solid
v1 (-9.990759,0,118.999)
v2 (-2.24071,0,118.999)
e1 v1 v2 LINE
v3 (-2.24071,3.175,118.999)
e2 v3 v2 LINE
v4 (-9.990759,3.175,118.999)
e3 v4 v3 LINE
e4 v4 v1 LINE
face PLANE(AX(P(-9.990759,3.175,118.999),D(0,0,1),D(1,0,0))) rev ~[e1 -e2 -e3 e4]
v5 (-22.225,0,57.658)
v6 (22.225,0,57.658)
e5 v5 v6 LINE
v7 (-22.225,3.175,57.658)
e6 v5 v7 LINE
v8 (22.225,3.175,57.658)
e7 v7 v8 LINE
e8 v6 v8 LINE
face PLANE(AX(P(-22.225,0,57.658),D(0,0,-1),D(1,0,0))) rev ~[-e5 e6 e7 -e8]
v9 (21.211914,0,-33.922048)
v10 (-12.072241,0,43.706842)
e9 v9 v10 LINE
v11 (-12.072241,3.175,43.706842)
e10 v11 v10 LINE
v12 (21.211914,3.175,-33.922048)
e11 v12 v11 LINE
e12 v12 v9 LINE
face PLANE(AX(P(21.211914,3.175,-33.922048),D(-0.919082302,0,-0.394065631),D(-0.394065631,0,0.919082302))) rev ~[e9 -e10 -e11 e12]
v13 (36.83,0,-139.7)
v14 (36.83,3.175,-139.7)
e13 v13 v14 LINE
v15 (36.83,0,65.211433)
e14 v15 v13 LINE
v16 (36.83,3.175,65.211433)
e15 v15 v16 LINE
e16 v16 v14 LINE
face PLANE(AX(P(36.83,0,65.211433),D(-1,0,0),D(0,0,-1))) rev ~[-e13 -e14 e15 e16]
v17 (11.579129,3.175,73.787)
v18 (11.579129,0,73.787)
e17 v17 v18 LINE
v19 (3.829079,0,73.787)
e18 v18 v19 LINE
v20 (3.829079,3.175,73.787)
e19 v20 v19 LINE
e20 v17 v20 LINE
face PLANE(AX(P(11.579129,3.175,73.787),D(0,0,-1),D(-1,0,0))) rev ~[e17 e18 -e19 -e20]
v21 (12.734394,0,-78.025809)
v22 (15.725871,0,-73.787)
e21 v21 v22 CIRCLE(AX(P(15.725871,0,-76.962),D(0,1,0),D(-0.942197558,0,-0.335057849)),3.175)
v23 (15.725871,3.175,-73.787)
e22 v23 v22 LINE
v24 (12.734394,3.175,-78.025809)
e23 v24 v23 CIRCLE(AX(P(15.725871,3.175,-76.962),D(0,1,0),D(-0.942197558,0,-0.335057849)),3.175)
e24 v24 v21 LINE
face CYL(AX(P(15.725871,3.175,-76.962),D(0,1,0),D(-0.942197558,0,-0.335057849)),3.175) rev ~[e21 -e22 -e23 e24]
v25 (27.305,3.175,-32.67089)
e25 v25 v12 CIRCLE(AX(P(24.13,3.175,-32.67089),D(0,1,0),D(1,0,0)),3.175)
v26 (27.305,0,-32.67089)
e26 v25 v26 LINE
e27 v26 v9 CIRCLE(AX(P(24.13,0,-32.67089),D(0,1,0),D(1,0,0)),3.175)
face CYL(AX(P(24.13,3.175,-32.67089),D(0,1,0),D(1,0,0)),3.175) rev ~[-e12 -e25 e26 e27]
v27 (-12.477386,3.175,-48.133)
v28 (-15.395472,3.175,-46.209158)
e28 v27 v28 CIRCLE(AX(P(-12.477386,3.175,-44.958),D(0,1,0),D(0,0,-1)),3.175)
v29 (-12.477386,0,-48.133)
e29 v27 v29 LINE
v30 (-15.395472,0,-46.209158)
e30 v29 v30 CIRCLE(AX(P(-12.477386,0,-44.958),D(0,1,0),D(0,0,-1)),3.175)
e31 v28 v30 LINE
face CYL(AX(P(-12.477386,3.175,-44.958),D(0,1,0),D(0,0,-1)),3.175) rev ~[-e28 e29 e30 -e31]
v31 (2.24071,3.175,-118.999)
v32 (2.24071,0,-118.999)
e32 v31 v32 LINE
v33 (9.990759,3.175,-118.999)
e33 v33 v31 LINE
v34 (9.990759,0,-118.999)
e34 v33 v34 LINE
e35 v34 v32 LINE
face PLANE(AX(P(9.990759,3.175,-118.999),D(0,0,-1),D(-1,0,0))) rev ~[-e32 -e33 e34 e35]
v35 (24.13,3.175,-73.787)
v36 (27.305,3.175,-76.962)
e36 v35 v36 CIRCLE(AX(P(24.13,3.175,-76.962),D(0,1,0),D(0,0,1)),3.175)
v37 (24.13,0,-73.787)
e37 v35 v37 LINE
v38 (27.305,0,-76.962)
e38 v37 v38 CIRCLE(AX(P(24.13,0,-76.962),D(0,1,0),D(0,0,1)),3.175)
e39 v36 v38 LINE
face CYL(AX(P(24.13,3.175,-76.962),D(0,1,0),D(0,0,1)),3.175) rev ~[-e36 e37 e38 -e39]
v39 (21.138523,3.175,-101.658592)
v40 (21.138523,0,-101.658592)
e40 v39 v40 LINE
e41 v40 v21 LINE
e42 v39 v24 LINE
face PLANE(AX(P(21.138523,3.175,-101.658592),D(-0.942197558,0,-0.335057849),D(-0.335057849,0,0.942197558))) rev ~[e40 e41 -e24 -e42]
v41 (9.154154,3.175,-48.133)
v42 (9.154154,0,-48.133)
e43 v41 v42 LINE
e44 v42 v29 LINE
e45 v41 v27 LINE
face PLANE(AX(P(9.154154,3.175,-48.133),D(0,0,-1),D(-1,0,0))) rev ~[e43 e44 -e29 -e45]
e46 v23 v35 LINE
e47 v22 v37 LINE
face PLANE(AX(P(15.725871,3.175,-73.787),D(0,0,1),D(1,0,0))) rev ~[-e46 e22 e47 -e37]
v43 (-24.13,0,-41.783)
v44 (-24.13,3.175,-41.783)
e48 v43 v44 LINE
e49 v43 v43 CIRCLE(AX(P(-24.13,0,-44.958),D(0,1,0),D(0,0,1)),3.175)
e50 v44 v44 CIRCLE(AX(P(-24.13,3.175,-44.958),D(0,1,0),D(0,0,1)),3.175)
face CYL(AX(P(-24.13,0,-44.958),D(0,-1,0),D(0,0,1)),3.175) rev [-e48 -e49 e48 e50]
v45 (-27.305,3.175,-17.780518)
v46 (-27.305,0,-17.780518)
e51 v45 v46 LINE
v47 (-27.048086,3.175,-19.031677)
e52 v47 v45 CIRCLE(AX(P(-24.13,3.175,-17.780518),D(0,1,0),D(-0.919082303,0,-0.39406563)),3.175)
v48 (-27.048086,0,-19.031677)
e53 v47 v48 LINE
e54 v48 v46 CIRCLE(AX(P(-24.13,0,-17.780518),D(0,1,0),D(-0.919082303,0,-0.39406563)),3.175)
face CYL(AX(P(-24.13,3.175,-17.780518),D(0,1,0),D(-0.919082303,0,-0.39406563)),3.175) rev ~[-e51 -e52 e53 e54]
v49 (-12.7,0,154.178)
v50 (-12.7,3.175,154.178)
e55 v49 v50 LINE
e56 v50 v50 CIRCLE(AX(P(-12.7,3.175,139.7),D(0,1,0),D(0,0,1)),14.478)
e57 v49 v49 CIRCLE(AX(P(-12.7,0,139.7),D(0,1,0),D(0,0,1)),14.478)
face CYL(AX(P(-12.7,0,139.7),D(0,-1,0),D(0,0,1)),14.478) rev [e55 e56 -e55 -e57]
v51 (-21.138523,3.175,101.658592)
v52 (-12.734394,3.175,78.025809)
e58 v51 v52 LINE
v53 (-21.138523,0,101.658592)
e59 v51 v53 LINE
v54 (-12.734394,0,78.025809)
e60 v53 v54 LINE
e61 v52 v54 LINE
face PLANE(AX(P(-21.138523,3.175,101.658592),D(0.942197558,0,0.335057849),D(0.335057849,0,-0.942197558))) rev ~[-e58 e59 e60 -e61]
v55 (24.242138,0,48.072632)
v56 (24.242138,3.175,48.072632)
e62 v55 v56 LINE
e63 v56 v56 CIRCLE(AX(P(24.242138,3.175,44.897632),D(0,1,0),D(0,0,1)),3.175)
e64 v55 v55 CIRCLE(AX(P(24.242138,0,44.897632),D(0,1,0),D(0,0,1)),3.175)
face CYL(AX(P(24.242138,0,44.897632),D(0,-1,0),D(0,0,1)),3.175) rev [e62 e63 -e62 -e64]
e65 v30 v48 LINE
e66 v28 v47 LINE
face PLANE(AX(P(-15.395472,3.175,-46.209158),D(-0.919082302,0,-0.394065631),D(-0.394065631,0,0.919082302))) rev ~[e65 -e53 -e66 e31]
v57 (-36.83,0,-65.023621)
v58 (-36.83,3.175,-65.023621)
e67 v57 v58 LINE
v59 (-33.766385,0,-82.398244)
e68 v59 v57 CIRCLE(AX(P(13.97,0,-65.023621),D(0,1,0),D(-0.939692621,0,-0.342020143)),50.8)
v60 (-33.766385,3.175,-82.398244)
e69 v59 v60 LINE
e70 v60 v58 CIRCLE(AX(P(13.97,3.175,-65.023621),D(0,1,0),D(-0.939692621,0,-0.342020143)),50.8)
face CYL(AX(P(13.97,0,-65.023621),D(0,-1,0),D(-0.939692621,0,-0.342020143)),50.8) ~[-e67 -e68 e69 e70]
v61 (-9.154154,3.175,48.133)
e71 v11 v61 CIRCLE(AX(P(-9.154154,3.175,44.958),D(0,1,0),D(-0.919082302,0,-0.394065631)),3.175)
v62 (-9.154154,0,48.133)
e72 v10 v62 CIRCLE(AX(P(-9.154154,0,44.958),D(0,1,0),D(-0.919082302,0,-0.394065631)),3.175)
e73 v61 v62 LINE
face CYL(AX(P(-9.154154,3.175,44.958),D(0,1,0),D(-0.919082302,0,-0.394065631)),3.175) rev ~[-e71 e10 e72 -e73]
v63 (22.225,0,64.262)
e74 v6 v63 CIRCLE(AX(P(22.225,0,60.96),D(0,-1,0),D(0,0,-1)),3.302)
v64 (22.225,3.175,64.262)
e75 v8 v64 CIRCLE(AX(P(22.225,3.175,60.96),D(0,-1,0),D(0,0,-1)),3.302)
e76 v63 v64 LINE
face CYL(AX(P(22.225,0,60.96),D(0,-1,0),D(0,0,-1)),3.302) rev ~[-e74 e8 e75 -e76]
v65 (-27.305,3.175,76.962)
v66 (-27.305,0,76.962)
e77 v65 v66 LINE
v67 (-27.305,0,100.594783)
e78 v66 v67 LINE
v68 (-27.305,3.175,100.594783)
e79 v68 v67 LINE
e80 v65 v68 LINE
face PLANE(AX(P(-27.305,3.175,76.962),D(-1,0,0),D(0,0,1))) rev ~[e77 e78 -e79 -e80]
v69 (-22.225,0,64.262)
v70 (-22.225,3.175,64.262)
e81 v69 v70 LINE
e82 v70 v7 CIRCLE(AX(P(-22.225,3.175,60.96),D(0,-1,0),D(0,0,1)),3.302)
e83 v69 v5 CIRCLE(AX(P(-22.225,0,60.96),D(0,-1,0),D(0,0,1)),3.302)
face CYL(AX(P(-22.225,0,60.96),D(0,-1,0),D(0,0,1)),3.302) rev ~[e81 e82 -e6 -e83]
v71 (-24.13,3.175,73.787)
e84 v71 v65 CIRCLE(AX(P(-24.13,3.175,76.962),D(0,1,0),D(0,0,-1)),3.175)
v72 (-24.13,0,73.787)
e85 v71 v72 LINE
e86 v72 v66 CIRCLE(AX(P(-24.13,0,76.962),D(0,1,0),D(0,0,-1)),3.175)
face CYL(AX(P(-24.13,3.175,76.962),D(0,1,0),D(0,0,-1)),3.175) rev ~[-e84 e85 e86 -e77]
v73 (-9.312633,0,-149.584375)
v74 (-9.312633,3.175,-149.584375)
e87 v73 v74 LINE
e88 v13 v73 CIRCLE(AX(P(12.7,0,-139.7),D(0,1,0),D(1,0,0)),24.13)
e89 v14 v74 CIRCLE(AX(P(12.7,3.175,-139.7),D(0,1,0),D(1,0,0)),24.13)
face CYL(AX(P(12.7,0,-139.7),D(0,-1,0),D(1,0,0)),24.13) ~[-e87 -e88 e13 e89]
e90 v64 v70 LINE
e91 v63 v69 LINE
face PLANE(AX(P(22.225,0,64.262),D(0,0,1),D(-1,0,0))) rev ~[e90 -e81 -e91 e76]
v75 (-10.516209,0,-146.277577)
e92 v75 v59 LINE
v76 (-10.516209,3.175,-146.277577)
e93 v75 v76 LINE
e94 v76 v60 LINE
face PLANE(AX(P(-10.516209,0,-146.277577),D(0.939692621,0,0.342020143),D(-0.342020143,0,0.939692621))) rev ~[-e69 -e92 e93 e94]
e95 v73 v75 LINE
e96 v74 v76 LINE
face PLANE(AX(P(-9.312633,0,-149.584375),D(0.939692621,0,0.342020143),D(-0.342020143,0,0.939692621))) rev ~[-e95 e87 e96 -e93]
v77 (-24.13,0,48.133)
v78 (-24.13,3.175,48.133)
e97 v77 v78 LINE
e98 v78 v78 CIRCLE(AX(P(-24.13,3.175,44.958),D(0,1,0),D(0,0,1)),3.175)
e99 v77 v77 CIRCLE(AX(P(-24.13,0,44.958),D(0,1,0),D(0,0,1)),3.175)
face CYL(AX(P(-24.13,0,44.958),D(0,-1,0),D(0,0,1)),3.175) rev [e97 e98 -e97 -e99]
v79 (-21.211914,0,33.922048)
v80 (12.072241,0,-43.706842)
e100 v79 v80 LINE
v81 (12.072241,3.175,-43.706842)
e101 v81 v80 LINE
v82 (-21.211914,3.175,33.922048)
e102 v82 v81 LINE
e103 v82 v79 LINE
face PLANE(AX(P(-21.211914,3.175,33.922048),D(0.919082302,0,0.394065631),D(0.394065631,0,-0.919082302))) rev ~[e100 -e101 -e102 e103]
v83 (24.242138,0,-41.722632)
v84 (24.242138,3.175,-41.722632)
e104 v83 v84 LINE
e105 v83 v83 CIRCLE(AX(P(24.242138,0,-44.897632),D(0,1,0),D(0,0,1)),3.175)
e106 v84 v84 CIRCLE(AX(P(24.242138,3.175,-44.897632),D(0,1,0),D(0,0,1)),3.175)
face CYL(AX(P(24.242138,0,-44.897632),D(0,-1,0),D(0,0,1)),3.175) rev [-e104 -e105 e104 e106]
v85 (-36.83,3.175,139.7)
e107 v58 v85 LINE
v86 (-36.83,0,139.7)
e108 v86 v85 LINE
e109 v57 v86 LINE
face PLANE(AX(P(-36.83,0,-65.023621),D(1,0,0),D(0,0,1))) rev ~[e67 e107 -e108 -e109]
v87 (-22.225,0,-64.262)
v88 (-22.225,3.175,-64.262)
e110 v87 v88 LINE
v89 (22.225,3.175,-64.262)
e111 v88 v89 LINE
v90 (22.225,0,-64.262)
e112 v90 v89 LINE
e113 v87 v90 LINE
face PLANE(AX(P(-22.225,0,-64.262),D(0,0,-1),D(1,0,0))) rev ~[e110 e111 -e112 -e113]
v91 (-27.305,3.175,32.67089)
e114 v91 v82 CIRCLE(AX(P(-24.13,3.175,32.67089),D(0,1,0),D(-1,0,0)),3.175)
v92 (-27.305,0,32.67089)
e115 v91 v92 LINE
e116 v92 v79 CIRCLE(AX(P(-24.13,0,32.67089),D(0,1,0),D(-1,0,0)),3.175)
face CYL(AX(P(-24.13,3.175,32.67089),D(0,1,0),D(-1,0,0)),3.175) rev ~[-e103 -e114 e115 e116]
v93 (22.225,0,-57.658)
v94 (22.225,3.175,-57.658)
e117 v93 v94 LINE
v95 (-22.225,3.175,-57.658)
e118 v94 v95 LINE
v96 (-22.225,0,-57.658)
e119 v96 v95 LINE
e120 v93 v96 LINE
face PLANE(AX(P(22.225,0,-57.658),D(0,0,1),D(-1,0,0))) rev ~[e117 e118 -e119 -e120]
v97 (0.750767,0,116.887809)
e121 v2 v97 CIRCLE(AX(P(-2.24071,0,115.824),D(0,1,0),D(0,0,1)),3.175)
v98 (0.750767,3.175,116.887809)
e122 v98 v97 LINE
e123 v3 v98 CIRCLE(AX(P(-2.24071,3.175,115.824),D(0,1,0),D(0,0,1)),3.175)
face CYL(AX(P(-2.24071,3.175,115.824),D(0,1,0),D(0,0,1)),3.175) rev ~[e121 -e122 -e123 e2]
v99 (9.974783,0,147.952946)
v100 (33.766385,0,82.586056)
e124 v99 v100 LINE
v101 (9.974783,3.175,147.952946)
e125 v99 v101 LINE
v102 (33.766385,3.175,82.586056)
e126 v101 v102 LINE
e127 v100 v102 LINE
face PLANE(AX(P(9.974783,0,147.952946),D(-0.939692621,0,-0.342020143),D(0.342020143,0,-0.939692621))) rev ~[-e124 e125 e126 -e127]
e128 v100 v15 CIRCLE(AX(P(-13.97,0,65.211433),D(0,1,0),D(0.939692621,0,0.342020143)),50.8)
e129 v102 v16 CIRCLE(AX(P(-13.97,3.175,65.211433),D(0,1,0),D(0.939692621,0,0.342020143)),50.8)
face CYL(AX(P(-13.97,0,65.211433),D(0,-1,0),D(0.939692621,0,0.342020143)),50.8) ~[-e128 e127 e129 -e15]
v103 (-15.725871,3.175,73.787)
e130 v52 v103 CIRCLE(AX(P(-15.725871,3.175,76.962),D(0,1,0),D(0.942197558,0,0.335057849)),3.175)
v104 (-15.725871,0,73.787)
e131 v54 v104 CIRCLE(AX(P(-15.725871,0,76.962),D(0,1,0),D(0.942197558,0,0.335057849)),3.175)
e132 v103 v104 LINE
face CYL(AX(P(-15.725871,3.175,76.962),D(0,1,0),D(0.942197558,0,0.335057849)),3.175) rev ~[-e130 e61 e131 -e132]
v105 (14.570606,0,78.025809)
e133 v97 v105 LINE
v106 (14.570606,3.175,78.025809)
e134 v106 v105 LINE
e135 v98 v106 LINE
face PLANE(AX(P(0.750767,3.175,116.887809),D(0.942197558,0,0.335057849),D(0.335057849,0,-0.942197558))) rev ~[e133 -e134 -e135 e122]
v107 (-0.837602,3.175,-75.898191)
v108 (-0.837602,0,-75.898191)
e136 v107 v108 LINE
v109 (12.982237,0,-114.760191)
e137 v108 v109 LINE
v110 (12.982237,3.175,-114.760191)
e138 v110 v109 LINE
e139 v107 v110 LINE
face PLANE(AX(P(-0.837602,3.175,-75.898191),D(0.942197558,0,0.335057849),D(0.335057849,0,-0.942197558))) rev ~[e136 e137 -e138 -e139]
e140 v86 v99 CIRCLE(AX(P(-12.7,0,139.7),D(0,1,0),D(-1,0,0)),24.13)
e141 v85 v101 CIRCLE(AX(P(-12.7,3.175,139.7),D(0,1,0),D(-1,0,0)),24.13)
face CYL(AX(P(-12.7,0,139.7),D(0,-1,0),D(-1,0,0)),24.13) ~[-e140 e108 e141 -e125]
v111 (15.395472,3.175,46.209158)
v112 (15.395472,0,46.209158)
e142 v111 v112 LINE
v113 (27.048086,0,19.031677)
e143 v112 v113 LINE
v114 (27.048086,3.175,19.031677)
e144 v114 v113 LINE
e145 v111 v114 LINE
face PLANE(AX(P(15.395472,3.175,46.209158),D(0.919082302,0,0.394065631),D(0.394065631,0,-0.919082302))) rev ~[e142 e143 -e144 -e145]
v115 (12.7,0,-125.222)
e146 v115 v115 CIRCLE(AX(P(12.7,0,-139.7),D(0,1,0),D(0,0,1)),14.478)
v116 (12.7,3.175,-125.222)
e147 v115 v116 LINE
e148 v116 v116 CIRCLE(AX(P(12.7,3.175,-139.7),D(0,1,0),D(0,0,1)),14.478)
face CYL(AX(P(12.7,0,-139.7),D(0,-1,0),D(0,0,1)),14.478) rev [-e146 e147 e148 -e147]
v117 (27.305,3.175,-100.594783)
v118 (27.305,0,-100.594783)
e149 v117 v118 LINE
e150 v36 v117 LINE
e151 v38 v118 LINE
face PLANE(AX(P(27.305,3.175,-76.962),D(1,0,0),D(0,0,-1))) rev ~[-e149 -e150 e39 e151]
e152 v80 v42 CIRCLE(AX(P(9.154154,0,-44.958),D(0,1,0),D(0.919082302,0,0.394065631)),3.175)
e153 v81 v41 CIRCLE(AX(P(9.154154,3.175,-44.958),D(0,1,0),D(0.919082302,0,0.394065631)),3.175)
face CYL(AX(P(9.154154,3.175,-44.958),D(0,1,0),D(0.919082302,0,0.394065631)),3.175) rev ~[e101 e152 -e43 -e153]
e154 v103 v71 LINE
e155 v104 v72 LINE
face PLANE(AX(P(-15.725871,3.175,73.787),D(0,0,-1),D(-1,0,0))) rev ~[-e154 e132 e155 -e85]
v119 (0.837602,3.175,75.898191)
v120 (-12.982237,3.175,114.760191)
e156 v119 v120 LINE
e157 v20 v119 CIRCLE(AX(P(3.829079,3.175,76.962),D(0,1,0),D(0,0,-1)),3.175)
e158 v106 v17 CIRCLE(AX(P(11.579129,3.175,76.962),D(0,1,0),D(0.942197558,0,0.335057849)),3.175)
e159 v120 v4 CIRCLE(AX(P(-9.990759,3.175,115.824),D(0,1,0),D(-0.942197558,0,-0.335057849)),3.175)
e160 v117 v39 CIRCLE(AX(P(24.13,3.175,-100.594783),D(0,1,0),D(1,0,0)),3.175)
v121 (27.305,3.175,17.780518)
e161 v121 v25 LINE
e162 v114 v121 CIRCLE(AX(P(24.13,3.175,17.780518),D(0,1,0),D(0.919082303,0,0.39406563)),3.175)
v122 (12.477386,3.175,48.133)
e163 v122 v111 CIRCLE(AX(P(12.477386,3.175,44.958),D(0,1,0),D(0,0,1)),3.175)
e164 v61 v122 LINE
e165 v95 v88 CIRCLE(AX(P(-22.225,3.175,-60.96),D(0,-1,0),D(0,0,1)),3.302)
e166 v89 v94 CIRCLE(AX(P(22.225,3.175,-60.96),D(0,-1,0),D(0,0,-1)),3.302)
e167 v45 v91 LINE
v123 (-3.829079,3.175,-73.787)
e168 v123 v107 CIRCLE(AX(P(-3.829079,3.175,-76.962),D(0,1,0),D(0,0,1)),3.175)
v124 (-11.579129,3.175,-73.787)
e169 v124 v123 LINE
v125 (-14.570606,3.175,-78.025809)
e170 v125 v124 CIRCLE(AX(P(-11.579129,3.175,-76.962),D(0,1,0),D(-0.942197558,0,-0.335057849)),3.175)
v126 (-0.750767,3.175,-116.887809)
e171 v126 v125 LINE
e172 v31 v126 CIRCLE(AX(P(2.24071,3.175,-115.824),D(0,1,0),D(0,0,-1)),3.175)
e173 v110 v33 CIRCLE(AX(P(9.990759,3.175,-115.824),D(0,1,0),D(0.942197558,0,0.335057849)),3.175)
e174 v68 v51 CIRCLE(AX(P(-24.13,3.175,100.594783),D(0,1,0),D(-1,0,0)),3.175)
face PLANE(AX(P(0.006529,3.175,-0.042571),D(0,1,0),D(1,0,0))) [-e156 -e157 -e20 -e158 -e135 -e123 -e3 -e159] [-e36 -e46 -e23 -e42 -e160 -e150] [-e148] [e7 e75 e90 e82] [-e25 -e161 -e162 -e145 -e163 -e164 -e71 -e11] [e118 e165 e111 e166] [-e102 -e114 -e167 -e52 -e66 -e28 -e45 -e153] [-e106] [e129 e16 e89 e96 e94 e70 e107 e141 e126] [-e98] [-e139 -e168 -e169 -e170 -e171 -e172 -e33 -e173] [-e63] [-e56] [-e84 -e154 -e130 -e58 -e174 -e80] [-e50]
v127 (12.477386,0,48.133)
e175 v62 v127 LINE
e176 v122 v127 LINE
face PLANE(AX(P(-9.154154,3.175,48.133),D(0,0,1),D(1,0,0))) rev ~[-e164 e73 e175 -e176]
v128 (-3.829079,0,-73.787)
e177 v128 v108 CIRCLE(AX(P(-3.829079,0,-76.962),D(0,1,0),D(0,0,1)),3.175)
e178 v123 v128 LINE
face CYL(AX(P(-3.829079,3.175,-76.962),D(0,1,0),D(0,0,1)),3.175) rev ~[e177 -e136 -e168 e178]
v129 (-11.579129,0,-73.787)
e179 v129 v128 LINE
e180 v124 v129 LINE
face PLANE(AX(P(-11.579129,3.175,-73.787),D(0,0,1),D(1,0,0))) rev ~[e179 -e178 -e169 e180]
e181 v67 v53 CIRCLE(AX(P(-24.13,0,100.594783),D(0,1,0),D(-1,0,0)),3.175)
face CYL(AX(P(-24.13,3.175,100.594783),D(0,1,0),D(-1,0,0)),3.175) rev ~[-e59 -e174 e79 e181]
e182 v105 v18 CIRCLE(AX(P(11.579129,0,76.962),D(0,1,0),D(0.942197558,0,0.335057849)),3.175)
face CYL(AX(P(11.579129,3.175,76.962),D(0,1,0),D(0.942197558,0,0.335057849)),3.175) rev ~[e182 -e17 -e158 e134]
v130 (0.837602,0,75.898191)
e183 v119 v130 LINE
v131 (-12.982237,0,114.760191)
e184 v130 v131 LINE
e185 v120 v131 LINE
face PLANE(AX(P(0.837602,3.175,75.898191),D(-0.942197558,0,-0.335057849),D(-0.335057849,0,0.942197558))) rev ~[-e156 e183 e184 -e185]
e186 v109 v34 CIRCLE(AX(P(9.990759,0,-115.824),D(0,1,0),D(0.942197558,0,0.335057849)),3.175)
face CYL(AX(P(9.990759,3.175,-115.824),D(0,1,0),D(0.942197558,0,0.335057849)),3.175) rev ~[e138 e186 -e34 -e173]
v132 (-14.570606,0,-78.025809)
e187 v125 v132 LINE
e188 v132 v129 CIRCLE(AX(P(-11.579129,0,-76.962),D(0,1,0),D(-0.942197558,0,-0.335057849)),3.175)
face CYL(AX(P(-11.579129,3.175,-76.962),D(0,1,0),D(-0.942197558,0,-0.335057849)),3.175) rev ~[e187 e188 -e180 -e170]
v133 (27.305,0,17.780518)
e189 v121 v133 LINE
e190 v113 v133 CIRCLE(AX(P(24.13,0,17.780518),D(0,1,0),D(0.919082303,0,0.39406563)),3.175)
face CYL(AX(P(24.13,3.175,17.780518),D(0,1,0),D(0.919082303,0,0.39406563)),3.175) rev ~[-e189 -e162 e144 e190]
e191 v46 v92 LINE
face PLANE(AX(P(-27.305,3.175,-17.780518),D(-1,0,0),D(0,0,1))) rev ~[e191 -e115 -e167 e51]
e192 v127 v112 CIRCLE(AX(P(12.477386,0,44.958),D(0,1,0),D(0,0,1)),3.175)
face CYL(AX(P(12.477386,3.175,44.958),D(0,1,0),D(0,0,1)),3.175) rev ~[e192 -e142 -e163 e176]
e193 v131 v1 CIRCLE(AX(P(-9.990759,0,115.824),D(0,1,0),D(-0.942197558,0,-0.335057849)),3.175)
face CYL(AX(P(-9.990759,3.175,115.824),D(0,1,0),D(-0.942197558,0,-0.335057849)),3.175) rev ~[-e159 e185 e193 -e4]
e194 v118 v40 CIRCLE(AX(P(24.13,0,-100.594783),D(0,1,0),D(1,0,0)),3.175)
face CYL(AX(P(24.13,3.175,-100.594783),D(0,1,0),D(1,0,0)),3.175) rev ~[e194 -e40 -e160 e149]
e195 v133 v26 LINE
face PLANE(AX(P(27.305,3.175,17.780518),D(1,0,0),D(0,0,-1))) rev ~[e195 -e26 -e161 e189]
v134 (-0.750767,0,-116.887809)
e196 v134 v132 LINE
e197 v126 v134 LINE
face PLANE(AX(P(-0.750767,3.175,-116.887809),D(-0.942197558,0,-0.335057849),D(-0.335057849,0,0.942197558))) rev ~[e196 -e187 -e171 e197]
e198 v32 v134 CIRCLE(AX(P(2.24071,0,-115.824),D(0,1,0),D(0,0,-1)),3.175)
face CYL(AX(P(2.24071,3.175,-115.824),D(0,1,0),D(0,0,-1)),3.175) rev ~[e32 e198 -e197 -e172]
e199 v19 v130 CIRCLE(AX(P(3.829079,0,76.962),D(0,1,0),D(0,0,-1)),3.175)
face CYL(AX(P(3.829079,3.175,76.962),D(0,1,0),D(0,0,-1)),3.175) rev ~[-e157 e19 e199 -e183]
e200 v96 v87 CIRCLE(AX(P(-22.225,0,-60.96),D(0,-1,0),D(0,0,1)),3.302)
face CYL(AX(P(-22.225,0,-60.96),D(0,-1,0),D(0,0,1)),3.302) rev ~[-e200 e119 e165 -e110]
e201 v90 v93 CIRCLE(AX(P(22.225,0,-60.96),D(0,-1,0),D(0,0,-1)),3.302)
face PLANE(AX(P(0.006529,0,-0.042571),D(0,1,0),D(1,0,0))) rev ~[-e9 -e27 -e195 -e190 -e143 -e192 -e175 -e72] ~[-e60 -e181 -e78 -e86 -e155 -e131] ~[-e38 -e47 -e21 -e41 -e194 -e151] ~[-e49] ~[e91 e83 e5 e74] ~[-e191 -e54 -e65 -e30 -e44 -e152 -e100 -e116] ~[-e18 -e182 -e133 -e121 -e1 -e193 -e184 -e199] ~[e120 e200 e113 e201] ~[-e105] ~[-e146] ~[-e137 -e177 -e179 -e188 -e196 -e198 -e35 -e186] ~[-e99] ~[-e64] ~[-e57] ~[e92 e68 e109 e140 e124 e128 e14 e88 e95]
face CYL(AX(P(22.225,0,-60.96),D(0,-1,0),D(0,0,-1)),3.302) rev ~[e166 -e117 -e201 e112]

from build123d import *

# Parameters (mm, degrees)
SKETCH1_R           = 14.478
SKETCH1_R_2         = 3.175
BOSS_EXTRUDE1_DEPTH = 3.175
CUT_EXTRUDE1_DEPTH  = 168.948797034


with BuildPart() as part:
    # Sketch1 → Boss-Extrude1 (new body)
    with BuildSketch(Plane(origin=(0, 0, 0), x_dir=(1, 0, 0), z_dir=(0, 1, 0))):
        with BuildLine():
            Line((-36.83, 65.023620999), (-36.83, -139.7))
            ThreePointArc((-36.83, -139.7), (-16.890130527, -163.46341108), (9.97478294, -147.952946058))
            Line((9.97478294, -147.952946058), (33.766385136, -82.586056251))
            ThreePointArc((33.766385136, -82.586056251), (36.058233853, -74.032760396), (36.83, -65.21143297))
            Line((36.83, -65.21143297), (36.83, 139.7))
            ThreePointArc((36.83, 139.7), (17.75430807, 163.29472123), (-9.312633231, 149.584375461))
            Line((-9.312633231, 149.584375461), (-10.51620944, 146.277577002))
            Line((-10.51620944, 146.277577002), (-33.766385136, 82.39824428))
            ThreePointArc((-33.766385136, 82.39824428), (-36.058233853, 73.844948425), (-36.83, 65.023620999))
        make_face()
        with Locations(Location((-12.7, -139.7, 0), (0, 0, 270))):
            Circle(SKETCH1_R, mode=Mode.SUBTRACT)
        with Locations(Location((-24.13, -44.958, 0), (0, 0, 270))):
            Circle(SKETCH1_R_2, mode=Mode.SUBTRACT)
        with BuildLine():
            Line((22.225, -64.262), (-22.225, -64.262))
            ThreePointArc((-22.225, -64.262), (-25.527, -60.96), (-22.225, -57.658))
            Line((-22.225, -57.658), (22.225, -57.658))
            ThreePointArc((22.225, -57.658), (25.527, -60.96), (22.225, -64.262))
        make_face(mode=Mode.SUBTRACT)
        with Locations(Location((24.242138156, -44.897632473, 0), (0, 0, 270))):
            Circle(SKETCH1_R_2, mode=Mode.SUBTRACT)
        with Locations(Location((-24.13, 44.958, 0), (0, 0, 270))):
            Circle(SKETCH1_R_2, mode=Mode.SUBTRACT)
        with BuildLine():
            ThreePointArc((-22.225, 57.658), (-25.527, 60.96), (-22.225, 64.262))
            Line((-22.225, 64.262), (22.225, 64.262))
            ThreePointArc((22.225, 64.262), (25.527, 60.96), (22.225, 57.658))
            Line((22.225, 57.658), (-22.225, 57.658))
        make_face(mode=Mode.SUBTRACT)
        with Locations(Location((24.242138156, 44.897632473, 0), (0, 0, 270))):
            Circle(SKETCH1_R_2, mode=Mode.SUBTRACT)
        with Locations(Location((12.7, 139.7, 0), (0, 0, 270))):
            Circle(SKETCH1_R, mode=Mode.SUBTRACT)
    extrude(amount=BOSS_EXTRUDE1_DEPTH)

    # Sketch2 → Cut-Extrude1 (cut, through all)
    with BuildSketch(Plane(origin=(0, 3.175, 0), x_dir=(1, 0, 0), z_dir=(0, 1, 0))):
        with BuildLine():
            Line((-27.305, 17.780518249), (-27.305, -32.670889551))
            ThreePointArc((-27.305, -32.670889551), (-24.768631727, -35.780997992), (-21.21191369, -33.922047929))
            Line((-21.21191369, -33.922047929), (12.072240801, 43.706841622))
            ThreePointArc((12.072240801, 43.706841622), (11.804914085, 46.705597944), (9.154154491, 48.133))
            Line((9.154154491, 48.133), (-12.477385793, 48.133))
            ThreePointArc((-12.477385793, 48.133), (-14.224983737, 47.608759594), (-15.395472103, 46.209158378))
            Line((-15.395472103, 46.209158378), (-27.04808631, 19.031676627))
            ThreePointArc((-27.04808631, 19.031676627), (-27.240108441, 18.419149976), (-27.305, 17.780518249))
        make_face()
        with BuildLine():
            Line((27.305, -17.780518249), (27.305, 32.670889551))
            ThreePointArc((27.305, 32.670889551), (24.768631727, 35.780997992), (21.21191369, 33.922047929))
            Line((21.21191369, 33.922047929), (-12.072240801, -43.706841622))
            ThreePointArc((-12.072240801, -43.706841622), (-11.804914085, -46.705597944), (-9.154154491, -48.133))
            Line((-9.154154491, -48.133), (12.477385793, -48.133))
            ThreePointArc((12.477385793, -48.133), (14.224983737, -47.608759594), (15.395472103, -46.209158378))
            Line((15.395472103, -46.209158378), (27.04808631, -19.031676627))
            ThreePointArc((27.04808631, -19.031676627), (27.240108441, -18.419149976), (27.305, -17.780518249))
        make_face()
        with BuildLine():
            Line((-15.725871274, -73.787), (-24.13, -73.787))
            ThreePointArc((-24.13, -73.787), (-26.37506403, -74.71693597), (-27.305, -76.962))
            Line((-27.305, -76.962), (-27.305, -100.594783353))
            ThreePointArc((-27.305, -100.594783353), (-24.669761403, -103.723566283), (-21.138522754, -101.658592024))
            Line((-21.138522754, -101.658592024), (-12.734394028, -78.025808671))
            ThreePointArc((-12.734394028, -78.025808671), (-13.131818698, -75.131285321), (-15.725871274, -73.787))
        make_face()
        with BuildLine():
            Line((-9.990759398, -118.999), (-2.24070983, -118.999))
            ThreePointArc((-2.24070983, -118.999), (-0.409995151, -118.418052576), (0.750767416, -116.887808671))
            Line((0.750767416, -116.887808671), (14.570605972, -78.025808671))
            ThreePointArc((14.570605972, -78.025808671), (14.173181302, -75.131285321), (11.579128726, -73.787))
            Line((11.579128726, -73.787), (3.829079157, -73.787))
            ThreePointArc((3.829079157, -73.787), (1.998364479, -74.367947424), (0.837601912, -75.898191329))
            Line((0.837601912, -75.898191329), (-12.982236644, -114.760191329))
            ThreePointArc((-12.982236644, -114.760191329), (-12.584811974, -117.654714679), (-9.990759398, -118.999))
        make_face()
        with BuildLine():
            Line((15.725871274, 73.787), (24.13, 73.787))
            ThreePointArc((24.13, 73.787), (26.37506403, 74.71693597), (27.305, 76.962))
            Line((27.305, 76.962), (27.305, 100.594783353))
            ThreePointArc((27.305, 100.594783353), (24.669761403, 103.723566283), (21.138522754, 101.658592024))
            Line((21.138522754, 101.658592024), (12.734394028, 78.025808671))
            ThreePointArc((12.734394028, 78.025808671), (13.131818698, 75.131285321), (15.725871274, 73.787))
        make_face()
        with BuildLine():
            Line((9.990759398, 118.999), (2.24070983, 118.999))
            ThreePointArc((2.24070983, 118.999), (0.409995151, 118.418052576), (-0.750767416, 116.887808671))
            Line((-0.750767416, 116.887808671), (-14.570605972, 78.025808671))
            ThreePointArc((-14.570605972, 78.025808671), (-14.173181302, 75.131285321), (-11.579128726, 73.787))
            Line((-11.579128726, 73.787), (-3.829079157, 73.787))
            ThreePointArc((-3.829079157, 73.787), (-1.998364479, 74.367947424), (-0.837601912, 75.898191329))
            Line((-0.837601912, 75.898191329), (12.982236644, 114.760191329))
            ThreePointArc((12.982236644, 114.760191329), (12.584811974, 117.654714679), (9.990759398, 118.999))
        make_face()
    extrude(amount=-CUT_EXTRUDE1_DEPTH, mode=Mode.SUBTRACT)


solid = part.part
